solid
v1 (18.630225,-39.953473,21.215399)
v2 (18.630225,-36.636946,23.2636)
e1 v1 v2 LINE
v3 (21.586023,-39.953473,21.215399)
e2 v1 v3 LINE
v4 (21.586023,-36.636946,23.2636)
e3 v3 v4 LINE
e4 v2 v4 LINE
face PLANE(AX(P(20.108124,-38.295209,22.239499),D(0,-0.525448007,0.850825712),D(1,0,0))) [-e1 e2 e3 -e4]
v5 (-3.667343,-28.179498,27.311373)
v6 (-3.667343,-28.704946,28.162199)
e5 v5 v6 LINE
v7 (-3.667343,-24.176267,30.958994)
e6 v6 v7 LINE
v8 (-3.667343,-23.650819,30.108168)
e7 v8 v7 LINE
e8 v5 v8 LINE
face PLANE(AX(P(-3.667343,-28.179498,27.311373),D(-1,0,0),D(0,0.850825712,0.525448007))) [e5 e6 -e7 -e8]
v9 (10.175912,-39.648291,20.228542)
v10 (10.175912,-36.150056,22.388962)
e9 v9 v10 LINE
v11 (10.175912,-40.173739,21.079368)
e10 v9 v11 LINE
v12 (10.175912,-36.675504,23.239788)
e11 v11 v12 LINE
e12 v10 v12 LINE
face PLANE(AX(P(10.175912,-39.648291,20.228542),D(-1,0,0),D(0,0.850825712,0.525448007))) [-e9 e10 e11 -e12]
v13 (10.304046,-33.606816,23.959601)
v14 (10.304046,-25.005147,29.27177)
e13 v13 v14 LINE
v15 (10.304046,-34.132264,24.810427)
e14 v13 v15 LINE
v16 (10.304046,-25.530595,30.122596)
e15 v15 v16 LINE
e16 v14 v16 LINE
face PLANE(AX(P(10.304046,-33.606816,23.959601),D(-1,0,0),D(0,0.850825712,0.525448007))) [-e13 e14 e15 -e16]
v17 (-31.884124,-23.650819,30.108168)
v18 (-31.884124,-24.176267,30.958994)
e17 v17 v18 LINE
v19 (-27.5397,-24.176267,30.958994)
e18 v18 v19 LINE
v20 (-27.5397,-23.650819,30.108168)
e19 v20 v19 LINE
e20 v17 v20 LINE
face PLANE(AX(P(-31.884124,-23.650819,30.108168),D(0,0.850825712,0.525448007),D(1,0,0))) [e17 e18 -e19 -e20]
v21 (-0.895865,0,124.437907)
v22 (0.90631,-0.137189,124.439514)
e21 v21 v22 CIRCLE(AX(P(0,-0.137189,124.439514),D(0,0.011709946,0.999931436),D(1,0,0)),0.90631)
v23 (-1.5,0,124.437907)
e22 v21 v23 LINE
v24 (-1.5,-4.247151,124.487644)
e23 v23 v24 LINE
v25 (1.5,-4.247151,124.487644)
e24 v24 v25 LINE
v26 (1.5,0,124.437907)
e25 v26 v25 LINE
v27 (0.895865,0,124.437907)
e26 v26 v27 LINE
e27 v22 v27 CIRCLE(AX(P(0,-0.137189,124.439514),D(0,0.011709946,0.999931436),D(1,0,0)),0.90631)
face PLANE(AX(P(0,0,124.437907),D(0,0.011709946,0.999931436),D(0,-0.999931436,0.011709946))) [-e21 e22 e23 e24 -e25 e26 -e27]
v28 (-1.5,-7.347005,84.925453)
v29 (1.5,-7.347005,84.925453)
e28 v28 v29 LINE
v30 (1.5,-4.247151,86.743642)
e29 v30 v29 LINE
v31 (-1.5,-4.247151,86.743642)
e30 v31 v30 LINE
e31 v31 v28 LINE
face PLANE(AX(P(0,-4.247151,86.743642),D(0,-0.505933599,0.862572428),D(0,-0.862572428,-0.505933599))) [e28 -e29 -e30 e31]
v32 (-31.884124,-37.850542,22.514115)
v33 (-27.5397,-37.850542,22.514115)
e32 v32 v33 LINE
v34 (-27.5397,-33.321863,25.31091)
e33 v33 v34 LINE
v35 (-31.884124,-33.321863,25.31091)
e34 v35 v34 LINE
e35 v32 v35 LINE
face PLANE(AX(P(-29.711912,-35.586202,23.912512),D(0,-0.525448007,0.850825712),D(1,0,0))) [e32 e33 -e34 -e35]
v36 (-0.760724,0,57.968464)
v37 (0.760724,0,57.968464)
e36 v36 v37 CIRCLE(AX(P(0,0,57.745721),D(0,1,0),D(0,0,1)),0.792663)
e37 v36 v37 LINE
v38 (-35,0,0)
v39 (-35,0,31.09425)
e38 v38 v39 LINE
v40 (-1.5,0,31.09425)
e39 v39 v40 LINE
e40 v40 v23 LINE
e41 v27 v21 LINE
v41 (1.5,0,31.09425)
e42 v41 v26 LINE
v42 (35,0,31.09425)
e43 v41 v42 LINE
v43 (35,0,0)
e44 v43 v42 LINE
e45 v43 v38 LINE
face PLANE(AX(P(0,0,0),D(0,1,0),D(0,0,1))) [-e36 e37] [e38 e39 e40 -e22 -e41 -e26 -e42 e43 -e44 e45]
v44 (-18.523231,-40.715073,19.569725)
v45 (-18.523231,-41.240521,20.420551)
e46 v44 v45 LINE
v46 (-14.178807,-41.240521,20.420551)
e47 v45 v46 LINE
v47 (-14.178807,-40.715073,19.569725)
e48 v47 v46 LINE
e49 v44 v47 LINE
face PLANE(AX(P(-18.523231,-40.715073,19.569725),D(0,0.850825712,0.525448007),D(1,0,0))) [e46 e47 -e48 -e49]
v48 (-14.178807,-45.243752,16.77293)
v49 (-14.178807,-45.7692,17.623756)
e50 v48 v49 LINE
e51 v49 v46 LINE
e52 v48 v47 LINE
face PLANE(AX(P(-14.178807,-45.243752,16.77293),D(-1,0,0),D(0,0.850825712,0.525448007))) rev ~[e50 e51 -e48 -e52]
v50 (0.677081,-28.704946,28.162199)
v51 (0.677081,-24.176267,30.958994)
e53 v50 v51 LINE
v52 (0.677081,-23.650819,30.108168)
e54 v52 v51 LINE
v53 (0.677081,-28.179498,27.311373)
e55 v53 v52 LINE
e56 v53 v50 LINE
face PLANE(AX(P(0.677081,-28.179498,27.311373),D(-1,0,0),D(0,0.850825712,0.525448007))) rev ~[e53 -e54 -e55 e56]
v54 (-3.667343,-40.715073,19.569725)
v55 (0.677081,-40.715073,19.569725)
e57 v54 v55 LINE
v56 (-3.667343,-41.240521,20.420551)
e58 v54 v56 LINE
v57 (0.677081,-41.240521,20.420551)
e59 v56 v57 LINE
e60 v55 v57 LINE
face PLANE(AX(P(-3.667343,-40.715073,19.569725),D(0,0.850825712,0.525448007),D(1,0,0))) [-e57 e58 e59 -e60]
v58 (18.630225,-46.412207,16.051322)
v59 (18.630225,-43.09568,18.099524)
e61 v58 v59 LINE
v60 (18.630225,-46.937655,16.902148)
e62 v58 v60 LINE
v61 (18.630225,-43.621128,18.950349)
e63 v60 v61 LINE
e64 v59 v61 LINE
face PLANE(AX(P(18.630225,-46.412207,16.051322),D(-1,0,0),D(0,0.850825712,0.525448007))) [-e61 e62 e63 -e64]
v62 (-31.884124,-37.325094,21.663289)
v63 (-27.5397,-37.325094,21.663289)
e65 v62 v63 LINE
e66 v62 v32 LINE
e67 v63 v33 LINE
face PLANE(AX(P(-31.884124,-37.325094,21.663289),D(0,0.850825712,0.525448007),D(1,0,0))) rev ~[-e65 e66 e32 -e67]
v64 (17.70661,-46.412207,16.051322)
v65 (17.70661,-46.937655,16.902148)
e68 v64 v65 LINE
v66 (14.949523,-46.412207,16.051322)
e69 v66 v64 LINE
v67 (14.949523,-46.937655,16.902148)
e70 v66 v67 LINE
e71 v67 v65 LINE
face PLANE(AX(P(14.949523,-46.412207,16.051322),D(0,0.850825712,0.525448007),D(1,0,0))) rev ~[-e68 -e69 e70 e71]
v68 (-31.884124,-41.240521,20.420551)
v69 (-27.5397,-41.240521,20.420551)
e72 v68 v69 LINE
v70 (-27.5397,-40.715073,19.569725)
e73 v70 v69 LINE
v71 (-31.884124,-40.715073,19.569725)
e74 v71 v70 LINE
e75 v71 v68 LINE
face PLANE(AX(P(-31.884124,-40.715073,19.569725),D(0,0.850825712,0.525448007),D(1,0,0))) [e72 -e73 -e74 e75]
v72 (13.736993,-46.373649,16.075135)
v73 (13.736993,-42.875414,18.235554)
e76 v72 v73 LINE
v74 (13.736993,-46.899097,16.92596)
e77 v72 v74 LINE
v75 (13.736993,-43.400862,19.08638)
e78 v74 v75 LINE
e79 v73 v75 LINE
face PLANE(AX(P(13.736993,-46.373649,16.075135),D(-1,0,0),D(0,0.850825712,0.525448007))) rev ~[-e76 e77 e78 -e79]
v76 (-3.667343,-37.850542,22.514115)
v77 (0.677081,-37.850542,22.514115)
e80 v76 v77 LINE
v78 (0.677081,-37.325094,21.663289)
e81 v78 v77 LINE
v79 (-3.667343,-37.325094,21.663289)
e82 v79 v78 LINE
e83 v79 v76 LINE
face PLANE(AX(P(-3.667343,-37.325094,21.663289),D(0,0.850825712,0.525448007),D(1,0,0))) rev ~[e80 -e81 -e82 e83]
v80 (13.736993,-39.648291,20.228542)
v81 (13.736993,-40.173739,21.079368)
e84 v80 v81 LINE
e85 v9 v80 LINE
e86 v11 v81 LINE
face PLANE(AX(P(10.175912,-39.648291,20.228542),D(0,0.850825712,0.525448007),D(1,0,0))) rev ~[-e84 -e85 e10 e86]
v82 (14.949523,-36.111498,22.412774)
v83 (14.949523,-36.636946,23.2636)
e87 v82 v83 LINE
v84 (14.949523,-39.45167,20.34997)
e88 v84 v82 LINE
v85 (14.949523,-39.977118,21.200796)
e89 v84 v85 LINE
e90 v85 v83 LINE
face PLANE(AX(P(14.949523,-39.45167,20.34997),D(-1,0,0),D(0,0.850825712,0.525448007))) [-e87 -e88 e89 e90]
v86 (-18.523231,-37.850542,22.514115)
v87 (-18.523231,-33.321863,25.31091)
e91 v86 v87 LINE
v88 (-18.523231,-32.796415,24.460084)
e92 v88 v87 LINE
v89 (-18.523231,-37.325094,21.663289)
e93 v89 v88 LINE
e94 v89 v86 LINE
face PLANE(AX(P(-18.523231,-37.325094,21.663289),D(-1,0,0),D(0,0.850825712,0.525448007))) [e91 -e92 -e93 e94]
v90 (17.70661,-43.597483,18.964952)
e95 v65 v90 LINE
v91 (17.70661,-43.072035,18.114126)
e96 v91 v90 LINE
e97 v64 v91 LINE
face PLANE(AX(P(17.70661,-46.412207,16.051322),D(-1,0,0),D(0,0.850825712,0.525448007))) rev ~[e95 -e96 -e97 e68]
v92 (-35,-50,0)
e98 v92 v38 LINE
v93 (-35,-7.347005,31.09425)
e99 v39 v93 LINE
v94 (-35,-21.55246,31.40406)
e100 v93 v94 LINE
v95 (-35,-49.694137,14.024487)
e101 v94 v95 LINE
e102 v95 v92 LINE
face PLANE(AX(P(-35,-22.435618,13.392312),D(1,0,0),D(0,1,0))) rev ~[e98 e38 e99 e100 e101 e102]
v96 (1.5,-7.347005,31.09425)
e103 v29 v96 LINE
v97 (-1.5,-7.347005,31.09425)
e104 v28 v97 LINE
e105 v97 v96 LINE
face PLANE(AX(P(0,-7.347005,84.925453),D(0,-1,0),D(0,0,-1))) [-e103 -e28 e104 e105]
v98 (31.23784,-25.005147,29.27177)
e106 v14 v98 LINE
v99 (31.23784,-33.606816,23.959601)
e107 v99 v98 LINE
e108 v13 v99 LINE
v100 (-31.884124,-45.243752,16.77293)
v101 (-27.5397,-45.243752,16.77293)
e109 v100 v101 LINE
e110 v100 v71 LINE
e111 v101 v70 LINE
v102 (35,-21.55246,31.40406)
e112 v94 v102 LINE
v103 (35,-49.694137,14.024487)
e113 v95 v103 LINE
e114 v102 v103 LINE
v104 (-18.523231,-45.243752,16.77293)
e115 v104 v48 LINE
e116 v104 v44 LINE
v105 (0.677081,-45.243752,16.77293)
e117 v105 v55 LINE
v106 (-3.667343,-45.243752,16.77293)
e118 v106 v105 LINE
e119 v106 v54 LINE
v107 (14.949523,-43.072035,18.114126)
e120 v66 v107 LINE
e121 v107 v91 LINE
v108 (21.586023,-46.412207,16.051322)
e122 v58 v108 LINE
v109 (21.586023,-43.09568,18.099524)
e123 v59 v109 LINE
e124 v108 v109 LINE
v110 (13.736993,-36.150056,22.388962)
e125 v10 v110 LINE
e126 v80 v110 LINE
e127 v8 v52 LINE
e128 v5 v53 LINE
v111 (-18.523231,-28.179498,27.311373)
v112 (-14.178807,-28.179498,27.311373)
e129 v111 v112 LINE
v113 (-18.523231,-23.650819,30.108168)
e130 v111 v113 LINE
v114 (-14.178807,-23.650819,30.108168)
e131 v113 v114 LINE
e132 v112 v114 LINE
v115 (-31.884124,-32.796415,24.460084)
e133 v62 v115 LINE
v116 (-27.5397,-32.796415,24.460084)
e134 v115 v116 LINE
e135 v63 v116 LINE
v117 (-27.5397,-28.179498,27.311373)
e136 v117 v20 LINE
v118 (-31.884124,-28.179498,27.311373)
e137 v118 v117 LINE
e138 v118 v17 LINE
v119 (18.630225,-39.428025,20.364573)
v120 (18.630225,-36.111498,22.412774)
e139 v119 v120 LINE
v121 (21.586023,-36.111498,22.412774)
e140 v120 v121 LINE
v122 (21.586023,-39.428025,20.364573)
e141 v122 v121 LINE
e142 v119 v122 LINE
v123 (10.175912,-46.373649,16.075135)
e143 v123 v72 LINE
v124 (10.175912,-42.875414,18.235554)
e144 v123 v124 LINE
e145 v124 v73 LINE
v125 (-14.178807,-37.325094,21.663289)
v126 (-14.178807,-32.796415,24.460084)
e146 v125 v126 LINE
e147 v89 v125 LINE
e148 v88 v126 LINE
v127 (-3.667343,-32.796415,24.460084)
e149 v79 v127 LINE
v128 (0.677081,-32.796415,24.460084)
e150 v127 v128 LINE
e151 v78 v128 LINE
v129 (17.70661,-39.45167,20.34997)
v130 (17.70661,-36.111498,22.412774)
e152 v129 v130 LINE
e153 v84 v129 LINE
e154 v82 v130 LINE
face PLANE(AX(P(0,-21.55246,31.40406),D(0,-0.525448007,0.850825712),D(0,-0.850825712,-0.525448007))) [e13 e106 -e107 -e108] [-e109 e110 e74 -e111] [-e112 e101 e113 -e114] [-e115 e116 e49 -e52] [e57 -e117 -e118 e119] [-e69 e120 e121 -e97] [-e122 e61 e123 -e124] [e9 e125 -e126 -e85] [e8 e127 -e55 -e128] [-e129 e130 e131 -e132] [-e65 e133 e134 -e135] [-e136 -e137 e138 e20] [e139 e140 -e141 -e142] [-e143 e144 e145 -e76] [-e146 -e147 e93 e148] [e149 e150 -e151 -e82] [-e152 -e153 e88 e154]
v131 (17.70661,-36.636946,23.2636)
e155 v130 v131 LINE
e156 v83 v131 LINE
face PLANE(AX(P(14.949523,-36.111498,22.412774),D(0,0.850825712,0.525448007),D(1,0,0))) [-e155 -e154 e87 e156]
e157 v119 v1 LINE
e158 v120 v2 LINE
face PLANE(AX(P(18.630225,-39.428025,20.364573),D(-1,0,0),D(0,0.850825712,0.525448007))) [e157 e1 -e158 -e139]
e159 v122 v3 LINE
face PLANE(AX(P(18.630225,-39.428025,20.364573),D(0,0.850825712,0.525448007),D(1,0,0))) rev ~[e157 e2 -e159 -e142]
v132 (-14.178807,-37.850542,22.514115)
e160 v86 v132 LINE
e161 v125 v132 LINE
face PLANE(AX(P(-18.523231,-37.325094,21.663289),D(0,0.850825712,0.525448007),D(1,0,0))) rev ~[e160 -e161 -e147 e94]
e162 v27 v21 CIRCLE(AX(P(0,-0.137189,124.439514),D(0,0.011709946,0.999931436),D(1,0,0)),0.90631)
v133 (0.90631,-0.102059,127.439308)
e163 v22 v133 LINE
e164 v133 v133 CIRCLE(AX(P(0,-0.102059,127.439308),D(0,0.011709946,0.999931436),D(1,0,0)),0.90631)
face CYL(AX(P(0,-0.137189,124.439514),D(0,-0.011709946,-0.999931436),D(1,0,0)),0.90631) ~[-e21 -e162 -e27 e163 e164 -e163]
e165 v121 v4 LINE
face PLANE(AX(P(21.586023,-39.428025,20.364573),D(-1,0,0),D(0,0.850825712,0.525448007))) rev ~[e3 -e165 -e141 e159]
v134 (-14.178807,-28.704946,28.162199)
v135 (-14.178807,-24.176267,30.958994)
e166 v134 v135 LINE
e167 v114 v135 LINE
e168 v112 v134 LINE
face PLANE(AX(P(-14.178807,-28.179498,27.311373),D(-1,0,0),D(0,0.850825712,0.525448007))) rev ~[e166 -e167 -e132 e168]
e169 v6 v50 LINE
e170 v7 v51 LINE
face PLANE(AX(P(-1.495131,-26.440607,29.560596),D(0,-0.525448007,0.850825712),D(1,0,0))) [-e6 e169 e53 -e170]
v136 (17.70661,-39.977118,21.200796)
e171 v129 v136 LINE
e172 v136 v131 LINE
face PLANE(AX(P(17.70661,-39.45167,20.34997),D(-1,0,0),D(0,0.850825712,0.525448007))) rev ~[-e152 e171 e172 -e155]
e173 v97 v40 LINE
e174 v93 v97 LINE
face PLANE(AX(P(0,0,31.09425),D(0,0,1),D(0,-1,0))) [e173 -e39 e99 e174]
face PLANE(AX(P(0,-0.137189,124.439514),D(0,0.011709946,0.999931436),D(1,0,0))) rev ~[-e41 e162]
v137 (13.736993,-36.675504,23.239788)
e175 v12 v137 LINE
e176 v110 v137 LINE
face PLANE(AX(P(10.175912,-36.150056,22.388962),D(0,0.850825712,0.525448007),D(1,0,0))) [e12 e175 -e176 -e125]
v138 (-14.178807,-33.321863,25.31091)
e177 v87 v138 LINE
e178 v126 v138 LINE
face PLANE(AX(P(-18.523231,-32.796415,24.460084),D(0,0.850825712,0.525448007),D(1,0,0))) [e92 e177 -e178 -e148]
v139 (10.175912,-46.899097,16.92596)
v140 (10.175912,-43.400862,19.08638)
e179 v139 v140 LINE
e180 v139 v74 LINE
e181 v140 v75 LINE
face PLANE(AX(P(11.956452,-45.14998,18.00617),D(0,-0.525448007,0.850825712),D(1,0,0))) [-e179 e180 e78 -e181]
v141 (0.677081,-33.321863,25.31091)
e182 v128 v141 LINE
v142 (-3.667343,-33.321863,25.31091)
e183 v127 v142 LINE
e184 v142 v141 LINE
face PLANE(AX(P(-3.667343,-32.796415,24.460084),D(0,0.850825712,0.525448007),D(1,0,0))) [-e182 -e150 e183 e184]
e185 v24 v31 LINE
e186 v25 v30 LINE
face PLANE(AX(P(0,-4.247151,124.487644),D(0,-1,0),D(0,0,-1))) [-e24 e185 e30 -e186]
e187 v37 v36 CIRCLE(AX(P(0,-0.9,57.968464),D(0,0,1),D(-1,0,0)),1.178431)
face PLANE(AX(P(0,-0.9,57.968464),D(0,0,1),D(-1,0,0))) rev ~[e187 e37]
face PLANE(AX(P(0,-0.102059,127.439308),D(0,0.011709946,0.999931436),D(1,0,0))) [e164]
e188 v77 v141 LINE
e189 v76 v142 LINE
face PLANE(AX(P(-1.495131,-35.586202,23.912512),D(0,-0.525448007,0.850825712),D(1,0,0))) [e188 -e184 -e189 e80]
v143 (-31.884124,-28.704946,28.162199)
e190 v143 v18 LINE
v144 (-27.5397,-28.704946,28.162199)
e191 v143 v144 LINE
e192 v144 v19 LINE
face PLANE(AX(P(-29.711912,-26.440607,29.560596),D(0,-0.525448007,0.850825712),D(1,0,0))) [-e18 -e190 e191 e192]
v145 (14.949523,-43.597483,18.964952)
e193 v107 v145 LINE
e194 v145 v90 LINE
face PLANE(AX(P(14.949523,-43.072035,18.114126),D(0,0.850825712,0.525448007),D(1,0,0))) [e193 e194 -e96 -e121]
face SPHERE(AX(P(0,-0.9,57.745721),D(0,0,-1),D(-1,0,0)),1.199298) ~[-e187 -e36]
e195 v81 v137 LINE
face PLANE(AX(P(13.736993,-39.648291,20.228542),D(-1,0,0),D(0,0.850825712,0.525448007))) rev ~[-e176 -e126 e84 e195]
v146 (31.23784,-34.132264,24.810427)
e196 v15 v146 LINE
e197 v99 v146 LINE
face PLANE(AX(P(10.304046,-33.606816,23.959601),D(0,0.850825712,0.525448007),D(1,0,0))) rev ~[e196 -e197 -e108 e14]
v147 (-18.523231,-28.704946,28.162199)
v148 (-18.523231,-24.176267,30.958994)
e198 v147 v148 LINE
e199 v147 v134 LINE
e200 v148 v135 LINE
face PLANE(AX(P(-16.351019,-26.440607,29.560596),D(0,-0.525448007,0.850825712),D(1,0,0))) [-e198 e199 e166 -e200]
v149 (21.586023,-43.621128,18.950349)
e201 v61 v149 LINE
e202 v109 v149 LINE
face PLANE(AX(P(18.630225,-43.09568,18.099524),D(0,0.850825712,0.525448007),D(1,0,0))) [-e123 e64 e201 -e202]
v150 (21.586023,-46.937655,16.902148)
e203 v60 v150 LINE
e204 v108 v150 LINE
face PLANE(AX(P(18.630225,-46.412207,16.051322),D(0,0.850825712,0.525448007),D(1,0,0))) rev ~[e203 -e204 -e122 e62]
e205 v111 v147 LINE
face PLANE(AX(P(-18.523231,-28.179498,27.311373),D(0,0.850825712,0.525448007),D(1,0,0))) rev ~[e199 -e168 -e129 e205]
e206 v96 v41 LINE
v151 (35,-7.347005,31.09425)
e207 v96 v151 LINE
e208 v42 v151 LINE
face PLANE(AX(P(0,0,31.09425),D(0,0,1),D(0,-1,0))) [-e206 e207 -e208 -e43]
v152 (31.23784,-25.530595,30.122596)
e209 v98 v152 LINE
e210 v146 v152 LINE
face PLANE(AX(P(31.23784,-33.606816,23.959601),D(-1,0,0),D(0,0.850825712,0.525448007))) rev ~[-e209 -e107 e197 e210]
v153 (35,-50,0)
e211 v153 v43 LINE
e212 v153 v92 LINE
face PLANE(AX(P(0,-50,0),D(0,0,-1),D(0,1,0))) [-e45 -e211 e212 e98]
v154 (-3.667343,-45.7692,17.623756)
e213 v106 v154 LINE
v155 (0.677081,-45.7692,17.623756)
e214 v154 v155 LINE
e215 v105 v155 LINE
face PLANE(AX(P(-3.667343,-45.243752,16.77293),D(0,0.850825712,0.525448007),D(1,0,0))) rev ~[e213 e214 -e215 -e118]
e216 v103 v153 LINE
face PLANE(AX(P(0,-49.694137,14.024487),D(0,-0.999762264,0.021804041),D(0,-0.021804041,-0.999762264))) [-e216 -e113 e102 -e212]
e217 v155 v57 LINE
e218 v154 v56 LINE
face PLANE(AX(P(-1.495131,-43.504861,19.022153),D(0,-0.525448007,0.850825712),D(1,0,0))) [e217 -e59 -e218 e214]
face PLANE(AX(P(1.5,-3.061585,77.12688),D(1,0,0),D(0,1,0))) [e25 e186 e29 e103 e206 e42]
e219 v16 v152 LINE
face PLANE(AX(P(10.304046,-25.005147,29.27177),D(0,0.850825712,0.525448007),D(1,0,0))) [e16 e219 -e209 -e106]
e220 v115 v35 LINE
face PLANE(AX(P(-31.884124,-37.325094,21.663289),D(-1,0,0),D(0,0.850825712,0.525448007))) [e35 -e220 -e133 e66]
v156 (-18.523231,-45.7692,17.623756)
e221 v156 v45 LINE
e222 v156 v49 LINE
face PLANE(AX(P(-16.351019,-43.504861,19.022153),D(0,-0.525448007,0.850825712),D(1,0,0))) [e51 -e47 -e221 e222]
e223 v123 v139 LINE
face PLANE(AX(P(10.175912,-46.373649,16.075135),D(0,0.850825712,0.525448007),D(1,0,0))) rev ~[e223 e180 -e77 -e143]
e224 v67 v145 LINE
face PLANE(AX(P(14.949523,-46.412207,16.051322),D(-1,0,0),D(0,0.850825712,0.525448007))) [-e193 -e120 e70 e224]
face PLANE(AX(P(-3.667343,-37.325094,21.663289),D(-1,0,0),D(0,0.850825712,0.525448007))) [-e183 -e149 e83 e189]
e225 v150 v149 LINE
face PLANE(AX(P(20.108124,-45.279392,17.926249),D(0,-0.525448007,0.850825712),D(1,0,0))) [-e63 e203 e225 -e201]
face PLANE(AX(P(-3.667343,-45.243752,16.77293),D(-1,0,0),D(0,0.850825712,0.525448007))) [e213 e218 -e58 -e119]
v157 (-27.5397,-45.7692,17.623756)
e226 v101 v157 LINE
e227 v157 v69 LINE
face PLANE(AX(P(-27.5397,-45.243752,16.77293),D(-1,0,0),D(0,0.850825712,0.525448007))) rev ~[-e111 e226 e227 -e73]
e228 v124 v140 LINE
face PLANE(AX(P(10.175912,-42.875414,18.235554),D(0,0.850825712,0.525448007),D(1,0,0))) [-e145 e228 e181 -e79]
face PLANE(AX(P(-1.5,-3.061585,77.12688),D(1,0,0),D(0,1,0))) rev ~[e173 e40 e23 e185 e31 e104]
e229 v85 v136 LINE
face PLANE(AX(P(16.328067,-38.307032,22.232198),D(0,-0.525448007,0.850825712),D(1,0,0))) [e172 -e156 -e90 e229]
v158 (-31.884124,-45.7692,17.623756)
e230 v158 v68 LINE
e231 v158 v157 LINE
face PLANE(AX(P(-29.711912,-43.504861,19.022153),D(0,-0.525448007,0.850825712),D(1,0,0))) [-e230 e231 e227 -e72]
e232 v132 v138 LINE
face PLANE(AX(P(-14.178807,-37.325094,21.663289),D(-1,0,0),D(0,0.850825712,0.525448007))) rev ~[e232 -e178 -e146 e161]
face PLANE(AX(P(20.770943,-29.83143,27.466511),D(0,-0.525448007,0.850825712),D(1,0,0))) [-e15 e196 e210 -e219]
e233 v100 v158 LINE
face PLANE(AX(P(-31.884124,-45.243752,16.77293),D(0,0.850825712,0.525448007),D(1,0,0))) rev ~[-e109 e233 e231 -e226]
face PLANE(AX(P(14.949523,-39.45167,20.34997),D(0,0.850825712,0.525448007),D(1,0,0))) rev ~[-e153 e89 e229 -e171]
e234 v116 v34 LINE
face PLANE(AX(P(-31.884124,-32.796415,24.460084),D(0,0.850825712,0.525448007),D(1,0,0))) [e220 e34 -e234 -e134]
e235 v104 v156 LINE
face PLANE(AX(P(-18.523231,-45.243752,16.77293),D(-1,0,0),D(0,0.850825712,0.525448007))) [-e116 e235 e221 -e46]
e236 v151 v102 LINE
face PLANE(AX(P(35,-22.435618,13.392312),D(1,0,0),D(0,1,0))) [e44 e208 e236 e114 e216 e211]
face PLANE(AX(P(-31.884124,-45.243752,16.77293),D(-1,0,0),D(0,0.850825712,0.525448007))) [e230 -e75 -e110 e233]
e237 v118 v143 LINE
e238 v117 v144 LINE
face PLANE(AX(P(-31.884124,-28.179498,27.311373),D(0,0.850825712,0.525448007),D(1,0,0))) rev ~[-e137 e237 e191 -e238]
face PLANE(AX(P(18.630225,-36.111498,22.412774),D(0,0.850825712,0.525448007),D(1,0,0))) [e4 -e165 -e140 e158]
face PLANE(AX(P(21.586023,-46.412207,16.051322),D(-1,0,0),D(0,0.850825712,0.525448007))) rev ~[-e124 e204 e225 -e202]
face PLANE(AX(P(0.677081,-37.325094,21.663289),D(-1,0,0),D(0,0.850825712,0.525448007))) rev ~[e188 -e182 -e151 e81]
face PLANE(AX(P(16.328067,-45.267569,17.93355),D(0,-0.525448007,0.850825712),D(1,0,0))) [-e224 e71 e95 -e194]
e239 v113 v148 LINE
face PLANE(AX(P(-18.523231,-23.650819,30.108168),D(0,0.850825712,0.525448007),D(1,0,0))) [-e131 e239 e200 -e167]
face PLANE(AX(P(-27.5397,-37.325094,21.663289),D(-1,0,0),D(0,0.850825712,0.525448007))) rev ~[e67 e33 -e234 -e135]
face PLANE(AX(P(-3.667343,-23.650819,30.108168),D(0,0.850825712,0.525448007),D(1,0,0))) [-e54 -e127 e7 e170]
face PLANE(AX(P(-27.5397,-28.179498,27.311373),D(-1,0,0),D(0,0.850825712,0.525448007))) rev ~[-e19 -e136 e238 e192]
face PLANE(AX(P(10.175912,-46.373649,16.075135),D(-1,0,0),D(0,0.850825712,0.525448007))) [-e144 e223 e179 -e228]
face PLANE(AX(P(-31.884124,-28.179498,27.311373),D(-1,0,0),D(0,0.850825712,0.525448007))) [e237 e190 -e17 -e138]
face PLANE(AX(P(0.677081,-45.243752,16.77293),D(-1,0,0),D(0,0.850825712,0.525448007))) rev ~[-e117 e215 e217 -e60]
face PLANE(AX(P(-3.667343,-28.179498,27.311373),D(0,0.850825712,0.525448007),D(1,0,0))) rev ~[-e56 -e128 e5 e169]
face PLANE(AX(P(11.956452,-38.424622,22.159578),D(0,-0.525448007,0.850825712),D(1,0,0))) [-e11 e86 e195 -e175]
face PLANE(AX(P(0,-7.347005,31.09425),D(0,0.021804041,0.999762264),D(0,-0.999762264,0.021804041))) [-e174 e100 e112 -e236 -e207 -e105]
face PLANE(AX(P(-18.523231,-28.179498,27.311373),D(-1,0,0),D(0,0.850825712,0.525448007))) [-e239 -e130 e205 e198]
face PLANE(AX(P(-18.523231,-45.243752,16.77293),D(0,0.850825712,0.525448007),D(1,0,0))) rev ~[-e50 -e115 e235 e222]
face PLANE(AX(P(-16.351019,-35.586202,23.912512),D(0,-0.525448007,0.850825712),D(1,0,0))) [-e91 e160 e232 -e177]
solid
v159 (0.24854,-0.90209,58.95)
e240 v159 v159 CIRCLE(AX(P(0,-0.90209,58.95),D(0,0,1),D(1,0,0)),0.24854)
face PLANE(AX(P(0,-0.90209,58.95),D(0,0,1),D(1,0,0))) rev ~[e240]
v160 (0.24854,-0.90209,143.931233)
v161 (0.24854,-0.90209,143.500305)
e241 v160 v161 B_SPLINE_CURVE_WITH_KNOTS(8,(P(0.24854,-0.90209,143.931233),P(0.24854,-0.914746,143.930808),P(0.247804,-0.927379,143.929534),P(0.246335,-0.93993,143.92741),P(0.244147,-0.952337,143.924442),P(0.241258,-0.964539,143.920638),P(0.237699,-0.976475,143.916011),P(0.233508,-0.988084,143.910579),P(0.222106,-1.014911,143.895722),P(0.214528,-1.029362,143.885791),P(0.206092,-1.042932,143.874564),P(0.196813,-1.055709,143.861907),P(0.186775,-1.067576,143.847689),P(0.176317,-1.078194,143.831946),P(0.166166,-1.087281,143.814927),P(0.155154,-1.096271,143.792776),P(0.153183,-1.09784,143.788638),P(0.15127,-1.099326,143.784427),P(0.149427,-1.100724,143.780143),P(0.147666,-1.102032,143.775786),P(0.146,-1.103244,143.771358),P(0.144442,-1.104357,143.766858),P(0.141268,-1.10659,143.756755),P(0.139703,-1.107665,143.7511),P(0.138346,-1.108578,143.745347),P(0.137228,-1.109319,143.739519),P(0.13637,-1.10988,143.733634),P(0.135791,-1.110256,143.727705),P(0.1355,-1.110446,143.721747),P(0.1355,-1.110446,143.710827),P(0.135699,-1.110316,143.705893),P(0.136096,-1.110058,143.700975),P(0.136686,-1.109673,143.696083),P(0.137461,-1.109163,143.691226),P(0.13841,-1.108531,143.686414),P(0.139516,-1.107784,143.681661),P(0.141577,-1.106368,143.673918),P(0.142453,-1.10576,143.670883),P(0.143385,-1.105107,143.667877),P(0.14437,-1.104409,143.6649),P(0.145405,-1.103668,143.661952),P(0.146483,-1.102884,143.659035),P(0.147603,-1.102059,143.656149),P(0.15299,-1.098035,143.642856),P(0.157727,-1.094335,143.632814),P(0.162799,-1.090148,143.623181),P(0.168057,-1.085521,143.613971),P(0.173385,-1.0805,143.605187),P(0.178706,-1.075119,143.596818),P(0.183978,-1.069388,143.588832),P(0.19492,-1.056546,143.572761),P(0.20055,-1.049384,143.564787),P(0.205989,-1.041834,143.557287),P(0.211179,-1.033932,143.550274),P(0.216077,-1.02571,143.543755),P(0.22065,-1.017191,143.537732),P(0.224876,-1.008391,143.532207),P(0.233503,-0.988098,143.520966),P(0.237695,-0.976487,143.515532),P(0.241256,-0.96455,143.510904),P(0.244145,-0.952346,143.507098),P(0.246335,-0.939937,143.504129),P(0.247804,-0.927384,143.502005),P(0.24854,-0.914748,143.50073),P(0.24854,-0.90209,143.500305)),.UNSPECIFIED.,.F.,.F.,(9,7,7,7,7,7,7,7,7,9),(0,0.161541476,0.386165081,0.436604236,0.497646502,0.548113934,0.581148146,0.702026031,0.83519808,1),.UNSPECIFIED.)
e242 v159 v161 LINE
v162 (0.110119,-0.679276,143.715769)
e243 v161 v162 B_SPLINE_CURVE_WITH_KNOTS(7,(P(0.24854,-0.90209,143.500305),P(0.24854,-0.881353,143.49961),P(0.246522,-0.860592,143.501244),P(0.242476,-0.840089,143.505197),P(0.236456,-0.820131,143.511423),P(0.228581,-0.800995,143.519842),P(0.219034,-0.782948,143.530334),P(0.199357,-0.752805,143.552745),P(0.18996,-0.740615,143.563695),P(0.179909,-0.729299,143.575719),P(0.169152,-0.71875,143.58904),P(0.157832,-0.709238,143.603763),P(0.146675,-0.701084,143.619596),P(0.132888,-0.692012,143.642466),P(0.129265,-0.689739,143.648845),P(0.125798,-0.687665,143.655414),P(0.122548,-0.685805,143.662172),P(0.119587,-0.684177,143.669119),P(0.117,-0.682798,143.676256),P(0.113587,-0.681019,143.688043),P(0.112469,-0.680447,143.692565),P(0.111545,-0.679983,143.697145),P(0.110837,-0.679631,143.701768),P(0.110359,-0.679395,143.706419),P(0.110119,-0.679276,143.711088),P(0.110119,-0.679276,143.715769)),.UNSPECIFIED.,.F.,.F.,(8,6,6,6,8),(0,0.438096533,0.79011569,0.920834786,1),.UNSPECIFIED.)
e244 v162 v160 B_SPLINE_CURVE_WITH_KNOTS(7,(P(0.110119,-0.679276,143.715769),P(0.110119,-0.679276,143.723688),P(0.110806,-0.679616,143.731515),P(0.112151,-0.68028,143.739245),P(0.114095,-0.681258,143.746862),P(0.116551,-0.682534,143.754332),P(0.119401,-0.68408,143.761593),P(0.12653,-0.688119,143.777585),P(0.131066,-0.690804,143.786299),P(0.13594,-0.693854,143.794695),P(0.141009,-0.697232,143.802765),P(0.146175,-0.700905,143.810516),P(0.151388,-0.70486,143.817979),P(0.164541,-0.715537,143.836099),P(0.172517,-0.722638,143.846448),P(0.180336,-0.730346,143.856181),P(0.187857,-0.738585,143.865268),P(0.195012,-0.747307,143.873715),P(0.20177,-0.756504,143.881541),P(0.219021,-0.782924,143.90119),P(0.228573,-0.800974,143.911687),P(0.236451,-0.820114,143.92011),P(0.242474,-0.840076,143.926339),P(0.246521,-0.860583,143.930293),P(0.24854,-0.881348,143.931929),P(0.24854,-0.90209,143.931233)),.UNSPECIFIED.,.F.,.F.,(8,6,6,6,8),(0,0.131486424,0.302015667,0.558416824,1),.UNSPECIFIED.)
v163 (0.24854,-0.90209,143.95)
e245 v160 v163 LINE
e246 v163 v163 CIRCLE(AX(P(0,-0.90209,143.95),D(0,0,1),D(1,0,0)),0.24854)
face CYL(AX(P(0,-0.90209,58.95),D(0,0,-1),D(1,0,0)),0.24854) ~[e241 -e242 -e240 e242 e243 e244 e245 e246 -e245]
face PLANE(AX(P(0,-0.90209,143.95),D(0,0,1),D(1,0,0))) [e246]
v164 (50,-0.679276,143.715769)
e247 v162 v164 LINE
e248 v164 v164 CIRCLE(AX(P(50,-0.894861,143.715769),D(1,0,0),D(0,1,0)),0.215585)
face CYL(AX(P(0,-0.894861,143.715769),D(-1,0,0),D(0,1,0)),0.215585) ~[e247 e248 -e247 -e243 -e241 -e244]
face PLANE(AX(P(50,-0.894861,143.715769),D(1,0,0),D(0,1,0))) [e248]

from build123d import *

# Parameters (mm, degrees)
F1_DEPTH  = 35
F2_DEPTH  = 1.5
F3_R      = 0.9063099794
F4_DEPTH  = 3
F9_R      = 0.2485402387
F10_DEPTH = 85
F11_R     = 0.2155847927
F12_DEPTH = 50
F13_W     = 4.3444237293
F13_H     = 5.3226868622
F13_W_2   = 20.9337938577
F13_H_2   = 10.1097906008
F13_W_3   = 3.5610813648
F13_H_3   = 4.1115768254
F13_W_4   = 2.7570873499
F13_H_4   = 3.9258003235
F13_W_5   = 2.9557980597
F13_H_5   = 3.8980096579
F14_DEPTH = 1


with BuildPart() as f1:
    # F0 (on Right) → F1 (new body, symmetric)
    with BuildSketch(Plane.YZ):
        Polygon((0, 0), (0, 31.094250305), (-7.3470045094, 31.094250305), (-21.5524604427, 31.4040603044), (-49.6941367908, 14.0244871014), (-50, 0), align=None)
    extrude(amount=F1_DEPTH, both=True)

    # F0 (on Right) → F2 (join, symmetric)
    with BuildSketch(Plane.YZ):
        Polygon((0, 31.094250305), (0, 124.4379070823), (-4.2471511877, 124.4876444022), (-4.2471511877, 86.7436423779), (-7.3470045094, 84.9254530919), (-7.3470045094, 31.094250305), align=None)
        Polygon((0, 0), (0, 31.094250305), (-7.3470045094, 31.094250305), (-21.5524604427, 31.4040603044), (-49.6941367908, 14.0244871014), (-50, 0), align=None)
    extrude(amount=F2_DEPTH, both=True)

    # F3 (on face) → F4 (join)
    with BuildSketch(Plane(origin=(0, 1.4570612262, 124.4208438045), x_dir=(1, 0, 0), z_dir=(0, 0.0117099457, 0.9999314362))):
        with Locations((0, -1.5943597537)):
            Circle(F3_R)
    extrude(amount=F4_DEPTH)

    # F6 (on offset) → F7 (revolve)
    with BuildSketch(Plane.XZ.offset(0.9)):
        with BuildLine():
            Line((-0.8982078871, 57.9684637487), (0, 57.9684637487))
            Line((0, 57.9684637487), (0, 58.9450188641))
            ThreePointArc((0, 58.9450188641), (-0.7652386155, 58.6691521683), (-1.1784314411, 57.9684637487))
            Line((-1.1784314411, 57.9684637487), (-0.8982078871, 57.9684637487))
        make_face()
    revolve(axis=Axis((0, -0.9, 58.2875237199), (0, 0, 1)))

    # F13 (on face) → F14 (join)
    with BuildSketch(Plane(origin=(0, -19.9901856633, 32.3688808984), x_dir=(1, 0, 0), z_dir=(0, -0.5254480068, 0.850825712))):
        with Locations((-29.7119121344, -6.9637915585)):
            Rectangle(F13_W, F13_H)
        with Locations((-16.3510192841, -6.9637915585)):
            Rectangle(F13_W, F13_H)
        with Locations((-29.7119121344, -17.7128741052)):
            Rectangle(F13_W, F13_H)
        with Locations((-16.3510192841, -17.7128741052)):
            Rectangle(F13_W, F13_H)
        with Locations((-1.4951310397, -6.9637915585)):
            Rectangle(F13_W, F13_H)
        with Locations((-1.4951310397, -17.7128741052)):
            Rectangle(F13_W, F13_H)
        with Locations((-29.7119121344, -27.019901434)):
            Rectangle(F13_W, F13_H)
        with Locations((-16.3510192841, -27.019901434)):
            Rectangle(F13_W, F13_H)
        with Locations((-1.4951310397, -27.019901434)):
            Rectangle(F13_W, F13_H)
        with Locations((20.7709427923, -10.9491236508)):
            Rectangle(F13_W_2, F13_H_2)
        with Locations((11.956452392, -21.0489500314)):
            Rectangle(F13_W_3, F13_H_3)
        with Locations((16.3280665874, -20.910743624)):
            Rectangle(F13_W_4, F13_H_4)
        with Locations((20.1081242412, -20.8968482912)):
            Rectangle(F13_W_5, F13_H_5)
        with Locations((20.1081242412, -29.1055589914)):
            Rectangle(F13_W_5, F13_H_5)
        with Locations((16.3280665874, -29.0916636586)):
            Rectangle(F13_W_4, F13_H_4)
        with Locations((11.956452392, -28.9534572512)):
            Rectangle(F13_W_3, F13_H_3)
    extrude(amount=F14_DEPTH)


with BuildPart() as f10:
    # F9 (on offset) → F10 (new body)
    with BuildSketch(Plane.XY.offset(58.95)):
        with Locations((0, -0.9020901052)):
            Circle(F9_R)
    extrude(amount=F10_DEPTH)

    # F11 (on Right) → F12 (join)
    with BuildSketch(Plane.YZ):
        with Locations((-0.894861063, 143.7157690525)):
            Circle(F11_R)
    extrude(amount=F12_DEPTH)


solid = Compound([f1.part, f10.part])
